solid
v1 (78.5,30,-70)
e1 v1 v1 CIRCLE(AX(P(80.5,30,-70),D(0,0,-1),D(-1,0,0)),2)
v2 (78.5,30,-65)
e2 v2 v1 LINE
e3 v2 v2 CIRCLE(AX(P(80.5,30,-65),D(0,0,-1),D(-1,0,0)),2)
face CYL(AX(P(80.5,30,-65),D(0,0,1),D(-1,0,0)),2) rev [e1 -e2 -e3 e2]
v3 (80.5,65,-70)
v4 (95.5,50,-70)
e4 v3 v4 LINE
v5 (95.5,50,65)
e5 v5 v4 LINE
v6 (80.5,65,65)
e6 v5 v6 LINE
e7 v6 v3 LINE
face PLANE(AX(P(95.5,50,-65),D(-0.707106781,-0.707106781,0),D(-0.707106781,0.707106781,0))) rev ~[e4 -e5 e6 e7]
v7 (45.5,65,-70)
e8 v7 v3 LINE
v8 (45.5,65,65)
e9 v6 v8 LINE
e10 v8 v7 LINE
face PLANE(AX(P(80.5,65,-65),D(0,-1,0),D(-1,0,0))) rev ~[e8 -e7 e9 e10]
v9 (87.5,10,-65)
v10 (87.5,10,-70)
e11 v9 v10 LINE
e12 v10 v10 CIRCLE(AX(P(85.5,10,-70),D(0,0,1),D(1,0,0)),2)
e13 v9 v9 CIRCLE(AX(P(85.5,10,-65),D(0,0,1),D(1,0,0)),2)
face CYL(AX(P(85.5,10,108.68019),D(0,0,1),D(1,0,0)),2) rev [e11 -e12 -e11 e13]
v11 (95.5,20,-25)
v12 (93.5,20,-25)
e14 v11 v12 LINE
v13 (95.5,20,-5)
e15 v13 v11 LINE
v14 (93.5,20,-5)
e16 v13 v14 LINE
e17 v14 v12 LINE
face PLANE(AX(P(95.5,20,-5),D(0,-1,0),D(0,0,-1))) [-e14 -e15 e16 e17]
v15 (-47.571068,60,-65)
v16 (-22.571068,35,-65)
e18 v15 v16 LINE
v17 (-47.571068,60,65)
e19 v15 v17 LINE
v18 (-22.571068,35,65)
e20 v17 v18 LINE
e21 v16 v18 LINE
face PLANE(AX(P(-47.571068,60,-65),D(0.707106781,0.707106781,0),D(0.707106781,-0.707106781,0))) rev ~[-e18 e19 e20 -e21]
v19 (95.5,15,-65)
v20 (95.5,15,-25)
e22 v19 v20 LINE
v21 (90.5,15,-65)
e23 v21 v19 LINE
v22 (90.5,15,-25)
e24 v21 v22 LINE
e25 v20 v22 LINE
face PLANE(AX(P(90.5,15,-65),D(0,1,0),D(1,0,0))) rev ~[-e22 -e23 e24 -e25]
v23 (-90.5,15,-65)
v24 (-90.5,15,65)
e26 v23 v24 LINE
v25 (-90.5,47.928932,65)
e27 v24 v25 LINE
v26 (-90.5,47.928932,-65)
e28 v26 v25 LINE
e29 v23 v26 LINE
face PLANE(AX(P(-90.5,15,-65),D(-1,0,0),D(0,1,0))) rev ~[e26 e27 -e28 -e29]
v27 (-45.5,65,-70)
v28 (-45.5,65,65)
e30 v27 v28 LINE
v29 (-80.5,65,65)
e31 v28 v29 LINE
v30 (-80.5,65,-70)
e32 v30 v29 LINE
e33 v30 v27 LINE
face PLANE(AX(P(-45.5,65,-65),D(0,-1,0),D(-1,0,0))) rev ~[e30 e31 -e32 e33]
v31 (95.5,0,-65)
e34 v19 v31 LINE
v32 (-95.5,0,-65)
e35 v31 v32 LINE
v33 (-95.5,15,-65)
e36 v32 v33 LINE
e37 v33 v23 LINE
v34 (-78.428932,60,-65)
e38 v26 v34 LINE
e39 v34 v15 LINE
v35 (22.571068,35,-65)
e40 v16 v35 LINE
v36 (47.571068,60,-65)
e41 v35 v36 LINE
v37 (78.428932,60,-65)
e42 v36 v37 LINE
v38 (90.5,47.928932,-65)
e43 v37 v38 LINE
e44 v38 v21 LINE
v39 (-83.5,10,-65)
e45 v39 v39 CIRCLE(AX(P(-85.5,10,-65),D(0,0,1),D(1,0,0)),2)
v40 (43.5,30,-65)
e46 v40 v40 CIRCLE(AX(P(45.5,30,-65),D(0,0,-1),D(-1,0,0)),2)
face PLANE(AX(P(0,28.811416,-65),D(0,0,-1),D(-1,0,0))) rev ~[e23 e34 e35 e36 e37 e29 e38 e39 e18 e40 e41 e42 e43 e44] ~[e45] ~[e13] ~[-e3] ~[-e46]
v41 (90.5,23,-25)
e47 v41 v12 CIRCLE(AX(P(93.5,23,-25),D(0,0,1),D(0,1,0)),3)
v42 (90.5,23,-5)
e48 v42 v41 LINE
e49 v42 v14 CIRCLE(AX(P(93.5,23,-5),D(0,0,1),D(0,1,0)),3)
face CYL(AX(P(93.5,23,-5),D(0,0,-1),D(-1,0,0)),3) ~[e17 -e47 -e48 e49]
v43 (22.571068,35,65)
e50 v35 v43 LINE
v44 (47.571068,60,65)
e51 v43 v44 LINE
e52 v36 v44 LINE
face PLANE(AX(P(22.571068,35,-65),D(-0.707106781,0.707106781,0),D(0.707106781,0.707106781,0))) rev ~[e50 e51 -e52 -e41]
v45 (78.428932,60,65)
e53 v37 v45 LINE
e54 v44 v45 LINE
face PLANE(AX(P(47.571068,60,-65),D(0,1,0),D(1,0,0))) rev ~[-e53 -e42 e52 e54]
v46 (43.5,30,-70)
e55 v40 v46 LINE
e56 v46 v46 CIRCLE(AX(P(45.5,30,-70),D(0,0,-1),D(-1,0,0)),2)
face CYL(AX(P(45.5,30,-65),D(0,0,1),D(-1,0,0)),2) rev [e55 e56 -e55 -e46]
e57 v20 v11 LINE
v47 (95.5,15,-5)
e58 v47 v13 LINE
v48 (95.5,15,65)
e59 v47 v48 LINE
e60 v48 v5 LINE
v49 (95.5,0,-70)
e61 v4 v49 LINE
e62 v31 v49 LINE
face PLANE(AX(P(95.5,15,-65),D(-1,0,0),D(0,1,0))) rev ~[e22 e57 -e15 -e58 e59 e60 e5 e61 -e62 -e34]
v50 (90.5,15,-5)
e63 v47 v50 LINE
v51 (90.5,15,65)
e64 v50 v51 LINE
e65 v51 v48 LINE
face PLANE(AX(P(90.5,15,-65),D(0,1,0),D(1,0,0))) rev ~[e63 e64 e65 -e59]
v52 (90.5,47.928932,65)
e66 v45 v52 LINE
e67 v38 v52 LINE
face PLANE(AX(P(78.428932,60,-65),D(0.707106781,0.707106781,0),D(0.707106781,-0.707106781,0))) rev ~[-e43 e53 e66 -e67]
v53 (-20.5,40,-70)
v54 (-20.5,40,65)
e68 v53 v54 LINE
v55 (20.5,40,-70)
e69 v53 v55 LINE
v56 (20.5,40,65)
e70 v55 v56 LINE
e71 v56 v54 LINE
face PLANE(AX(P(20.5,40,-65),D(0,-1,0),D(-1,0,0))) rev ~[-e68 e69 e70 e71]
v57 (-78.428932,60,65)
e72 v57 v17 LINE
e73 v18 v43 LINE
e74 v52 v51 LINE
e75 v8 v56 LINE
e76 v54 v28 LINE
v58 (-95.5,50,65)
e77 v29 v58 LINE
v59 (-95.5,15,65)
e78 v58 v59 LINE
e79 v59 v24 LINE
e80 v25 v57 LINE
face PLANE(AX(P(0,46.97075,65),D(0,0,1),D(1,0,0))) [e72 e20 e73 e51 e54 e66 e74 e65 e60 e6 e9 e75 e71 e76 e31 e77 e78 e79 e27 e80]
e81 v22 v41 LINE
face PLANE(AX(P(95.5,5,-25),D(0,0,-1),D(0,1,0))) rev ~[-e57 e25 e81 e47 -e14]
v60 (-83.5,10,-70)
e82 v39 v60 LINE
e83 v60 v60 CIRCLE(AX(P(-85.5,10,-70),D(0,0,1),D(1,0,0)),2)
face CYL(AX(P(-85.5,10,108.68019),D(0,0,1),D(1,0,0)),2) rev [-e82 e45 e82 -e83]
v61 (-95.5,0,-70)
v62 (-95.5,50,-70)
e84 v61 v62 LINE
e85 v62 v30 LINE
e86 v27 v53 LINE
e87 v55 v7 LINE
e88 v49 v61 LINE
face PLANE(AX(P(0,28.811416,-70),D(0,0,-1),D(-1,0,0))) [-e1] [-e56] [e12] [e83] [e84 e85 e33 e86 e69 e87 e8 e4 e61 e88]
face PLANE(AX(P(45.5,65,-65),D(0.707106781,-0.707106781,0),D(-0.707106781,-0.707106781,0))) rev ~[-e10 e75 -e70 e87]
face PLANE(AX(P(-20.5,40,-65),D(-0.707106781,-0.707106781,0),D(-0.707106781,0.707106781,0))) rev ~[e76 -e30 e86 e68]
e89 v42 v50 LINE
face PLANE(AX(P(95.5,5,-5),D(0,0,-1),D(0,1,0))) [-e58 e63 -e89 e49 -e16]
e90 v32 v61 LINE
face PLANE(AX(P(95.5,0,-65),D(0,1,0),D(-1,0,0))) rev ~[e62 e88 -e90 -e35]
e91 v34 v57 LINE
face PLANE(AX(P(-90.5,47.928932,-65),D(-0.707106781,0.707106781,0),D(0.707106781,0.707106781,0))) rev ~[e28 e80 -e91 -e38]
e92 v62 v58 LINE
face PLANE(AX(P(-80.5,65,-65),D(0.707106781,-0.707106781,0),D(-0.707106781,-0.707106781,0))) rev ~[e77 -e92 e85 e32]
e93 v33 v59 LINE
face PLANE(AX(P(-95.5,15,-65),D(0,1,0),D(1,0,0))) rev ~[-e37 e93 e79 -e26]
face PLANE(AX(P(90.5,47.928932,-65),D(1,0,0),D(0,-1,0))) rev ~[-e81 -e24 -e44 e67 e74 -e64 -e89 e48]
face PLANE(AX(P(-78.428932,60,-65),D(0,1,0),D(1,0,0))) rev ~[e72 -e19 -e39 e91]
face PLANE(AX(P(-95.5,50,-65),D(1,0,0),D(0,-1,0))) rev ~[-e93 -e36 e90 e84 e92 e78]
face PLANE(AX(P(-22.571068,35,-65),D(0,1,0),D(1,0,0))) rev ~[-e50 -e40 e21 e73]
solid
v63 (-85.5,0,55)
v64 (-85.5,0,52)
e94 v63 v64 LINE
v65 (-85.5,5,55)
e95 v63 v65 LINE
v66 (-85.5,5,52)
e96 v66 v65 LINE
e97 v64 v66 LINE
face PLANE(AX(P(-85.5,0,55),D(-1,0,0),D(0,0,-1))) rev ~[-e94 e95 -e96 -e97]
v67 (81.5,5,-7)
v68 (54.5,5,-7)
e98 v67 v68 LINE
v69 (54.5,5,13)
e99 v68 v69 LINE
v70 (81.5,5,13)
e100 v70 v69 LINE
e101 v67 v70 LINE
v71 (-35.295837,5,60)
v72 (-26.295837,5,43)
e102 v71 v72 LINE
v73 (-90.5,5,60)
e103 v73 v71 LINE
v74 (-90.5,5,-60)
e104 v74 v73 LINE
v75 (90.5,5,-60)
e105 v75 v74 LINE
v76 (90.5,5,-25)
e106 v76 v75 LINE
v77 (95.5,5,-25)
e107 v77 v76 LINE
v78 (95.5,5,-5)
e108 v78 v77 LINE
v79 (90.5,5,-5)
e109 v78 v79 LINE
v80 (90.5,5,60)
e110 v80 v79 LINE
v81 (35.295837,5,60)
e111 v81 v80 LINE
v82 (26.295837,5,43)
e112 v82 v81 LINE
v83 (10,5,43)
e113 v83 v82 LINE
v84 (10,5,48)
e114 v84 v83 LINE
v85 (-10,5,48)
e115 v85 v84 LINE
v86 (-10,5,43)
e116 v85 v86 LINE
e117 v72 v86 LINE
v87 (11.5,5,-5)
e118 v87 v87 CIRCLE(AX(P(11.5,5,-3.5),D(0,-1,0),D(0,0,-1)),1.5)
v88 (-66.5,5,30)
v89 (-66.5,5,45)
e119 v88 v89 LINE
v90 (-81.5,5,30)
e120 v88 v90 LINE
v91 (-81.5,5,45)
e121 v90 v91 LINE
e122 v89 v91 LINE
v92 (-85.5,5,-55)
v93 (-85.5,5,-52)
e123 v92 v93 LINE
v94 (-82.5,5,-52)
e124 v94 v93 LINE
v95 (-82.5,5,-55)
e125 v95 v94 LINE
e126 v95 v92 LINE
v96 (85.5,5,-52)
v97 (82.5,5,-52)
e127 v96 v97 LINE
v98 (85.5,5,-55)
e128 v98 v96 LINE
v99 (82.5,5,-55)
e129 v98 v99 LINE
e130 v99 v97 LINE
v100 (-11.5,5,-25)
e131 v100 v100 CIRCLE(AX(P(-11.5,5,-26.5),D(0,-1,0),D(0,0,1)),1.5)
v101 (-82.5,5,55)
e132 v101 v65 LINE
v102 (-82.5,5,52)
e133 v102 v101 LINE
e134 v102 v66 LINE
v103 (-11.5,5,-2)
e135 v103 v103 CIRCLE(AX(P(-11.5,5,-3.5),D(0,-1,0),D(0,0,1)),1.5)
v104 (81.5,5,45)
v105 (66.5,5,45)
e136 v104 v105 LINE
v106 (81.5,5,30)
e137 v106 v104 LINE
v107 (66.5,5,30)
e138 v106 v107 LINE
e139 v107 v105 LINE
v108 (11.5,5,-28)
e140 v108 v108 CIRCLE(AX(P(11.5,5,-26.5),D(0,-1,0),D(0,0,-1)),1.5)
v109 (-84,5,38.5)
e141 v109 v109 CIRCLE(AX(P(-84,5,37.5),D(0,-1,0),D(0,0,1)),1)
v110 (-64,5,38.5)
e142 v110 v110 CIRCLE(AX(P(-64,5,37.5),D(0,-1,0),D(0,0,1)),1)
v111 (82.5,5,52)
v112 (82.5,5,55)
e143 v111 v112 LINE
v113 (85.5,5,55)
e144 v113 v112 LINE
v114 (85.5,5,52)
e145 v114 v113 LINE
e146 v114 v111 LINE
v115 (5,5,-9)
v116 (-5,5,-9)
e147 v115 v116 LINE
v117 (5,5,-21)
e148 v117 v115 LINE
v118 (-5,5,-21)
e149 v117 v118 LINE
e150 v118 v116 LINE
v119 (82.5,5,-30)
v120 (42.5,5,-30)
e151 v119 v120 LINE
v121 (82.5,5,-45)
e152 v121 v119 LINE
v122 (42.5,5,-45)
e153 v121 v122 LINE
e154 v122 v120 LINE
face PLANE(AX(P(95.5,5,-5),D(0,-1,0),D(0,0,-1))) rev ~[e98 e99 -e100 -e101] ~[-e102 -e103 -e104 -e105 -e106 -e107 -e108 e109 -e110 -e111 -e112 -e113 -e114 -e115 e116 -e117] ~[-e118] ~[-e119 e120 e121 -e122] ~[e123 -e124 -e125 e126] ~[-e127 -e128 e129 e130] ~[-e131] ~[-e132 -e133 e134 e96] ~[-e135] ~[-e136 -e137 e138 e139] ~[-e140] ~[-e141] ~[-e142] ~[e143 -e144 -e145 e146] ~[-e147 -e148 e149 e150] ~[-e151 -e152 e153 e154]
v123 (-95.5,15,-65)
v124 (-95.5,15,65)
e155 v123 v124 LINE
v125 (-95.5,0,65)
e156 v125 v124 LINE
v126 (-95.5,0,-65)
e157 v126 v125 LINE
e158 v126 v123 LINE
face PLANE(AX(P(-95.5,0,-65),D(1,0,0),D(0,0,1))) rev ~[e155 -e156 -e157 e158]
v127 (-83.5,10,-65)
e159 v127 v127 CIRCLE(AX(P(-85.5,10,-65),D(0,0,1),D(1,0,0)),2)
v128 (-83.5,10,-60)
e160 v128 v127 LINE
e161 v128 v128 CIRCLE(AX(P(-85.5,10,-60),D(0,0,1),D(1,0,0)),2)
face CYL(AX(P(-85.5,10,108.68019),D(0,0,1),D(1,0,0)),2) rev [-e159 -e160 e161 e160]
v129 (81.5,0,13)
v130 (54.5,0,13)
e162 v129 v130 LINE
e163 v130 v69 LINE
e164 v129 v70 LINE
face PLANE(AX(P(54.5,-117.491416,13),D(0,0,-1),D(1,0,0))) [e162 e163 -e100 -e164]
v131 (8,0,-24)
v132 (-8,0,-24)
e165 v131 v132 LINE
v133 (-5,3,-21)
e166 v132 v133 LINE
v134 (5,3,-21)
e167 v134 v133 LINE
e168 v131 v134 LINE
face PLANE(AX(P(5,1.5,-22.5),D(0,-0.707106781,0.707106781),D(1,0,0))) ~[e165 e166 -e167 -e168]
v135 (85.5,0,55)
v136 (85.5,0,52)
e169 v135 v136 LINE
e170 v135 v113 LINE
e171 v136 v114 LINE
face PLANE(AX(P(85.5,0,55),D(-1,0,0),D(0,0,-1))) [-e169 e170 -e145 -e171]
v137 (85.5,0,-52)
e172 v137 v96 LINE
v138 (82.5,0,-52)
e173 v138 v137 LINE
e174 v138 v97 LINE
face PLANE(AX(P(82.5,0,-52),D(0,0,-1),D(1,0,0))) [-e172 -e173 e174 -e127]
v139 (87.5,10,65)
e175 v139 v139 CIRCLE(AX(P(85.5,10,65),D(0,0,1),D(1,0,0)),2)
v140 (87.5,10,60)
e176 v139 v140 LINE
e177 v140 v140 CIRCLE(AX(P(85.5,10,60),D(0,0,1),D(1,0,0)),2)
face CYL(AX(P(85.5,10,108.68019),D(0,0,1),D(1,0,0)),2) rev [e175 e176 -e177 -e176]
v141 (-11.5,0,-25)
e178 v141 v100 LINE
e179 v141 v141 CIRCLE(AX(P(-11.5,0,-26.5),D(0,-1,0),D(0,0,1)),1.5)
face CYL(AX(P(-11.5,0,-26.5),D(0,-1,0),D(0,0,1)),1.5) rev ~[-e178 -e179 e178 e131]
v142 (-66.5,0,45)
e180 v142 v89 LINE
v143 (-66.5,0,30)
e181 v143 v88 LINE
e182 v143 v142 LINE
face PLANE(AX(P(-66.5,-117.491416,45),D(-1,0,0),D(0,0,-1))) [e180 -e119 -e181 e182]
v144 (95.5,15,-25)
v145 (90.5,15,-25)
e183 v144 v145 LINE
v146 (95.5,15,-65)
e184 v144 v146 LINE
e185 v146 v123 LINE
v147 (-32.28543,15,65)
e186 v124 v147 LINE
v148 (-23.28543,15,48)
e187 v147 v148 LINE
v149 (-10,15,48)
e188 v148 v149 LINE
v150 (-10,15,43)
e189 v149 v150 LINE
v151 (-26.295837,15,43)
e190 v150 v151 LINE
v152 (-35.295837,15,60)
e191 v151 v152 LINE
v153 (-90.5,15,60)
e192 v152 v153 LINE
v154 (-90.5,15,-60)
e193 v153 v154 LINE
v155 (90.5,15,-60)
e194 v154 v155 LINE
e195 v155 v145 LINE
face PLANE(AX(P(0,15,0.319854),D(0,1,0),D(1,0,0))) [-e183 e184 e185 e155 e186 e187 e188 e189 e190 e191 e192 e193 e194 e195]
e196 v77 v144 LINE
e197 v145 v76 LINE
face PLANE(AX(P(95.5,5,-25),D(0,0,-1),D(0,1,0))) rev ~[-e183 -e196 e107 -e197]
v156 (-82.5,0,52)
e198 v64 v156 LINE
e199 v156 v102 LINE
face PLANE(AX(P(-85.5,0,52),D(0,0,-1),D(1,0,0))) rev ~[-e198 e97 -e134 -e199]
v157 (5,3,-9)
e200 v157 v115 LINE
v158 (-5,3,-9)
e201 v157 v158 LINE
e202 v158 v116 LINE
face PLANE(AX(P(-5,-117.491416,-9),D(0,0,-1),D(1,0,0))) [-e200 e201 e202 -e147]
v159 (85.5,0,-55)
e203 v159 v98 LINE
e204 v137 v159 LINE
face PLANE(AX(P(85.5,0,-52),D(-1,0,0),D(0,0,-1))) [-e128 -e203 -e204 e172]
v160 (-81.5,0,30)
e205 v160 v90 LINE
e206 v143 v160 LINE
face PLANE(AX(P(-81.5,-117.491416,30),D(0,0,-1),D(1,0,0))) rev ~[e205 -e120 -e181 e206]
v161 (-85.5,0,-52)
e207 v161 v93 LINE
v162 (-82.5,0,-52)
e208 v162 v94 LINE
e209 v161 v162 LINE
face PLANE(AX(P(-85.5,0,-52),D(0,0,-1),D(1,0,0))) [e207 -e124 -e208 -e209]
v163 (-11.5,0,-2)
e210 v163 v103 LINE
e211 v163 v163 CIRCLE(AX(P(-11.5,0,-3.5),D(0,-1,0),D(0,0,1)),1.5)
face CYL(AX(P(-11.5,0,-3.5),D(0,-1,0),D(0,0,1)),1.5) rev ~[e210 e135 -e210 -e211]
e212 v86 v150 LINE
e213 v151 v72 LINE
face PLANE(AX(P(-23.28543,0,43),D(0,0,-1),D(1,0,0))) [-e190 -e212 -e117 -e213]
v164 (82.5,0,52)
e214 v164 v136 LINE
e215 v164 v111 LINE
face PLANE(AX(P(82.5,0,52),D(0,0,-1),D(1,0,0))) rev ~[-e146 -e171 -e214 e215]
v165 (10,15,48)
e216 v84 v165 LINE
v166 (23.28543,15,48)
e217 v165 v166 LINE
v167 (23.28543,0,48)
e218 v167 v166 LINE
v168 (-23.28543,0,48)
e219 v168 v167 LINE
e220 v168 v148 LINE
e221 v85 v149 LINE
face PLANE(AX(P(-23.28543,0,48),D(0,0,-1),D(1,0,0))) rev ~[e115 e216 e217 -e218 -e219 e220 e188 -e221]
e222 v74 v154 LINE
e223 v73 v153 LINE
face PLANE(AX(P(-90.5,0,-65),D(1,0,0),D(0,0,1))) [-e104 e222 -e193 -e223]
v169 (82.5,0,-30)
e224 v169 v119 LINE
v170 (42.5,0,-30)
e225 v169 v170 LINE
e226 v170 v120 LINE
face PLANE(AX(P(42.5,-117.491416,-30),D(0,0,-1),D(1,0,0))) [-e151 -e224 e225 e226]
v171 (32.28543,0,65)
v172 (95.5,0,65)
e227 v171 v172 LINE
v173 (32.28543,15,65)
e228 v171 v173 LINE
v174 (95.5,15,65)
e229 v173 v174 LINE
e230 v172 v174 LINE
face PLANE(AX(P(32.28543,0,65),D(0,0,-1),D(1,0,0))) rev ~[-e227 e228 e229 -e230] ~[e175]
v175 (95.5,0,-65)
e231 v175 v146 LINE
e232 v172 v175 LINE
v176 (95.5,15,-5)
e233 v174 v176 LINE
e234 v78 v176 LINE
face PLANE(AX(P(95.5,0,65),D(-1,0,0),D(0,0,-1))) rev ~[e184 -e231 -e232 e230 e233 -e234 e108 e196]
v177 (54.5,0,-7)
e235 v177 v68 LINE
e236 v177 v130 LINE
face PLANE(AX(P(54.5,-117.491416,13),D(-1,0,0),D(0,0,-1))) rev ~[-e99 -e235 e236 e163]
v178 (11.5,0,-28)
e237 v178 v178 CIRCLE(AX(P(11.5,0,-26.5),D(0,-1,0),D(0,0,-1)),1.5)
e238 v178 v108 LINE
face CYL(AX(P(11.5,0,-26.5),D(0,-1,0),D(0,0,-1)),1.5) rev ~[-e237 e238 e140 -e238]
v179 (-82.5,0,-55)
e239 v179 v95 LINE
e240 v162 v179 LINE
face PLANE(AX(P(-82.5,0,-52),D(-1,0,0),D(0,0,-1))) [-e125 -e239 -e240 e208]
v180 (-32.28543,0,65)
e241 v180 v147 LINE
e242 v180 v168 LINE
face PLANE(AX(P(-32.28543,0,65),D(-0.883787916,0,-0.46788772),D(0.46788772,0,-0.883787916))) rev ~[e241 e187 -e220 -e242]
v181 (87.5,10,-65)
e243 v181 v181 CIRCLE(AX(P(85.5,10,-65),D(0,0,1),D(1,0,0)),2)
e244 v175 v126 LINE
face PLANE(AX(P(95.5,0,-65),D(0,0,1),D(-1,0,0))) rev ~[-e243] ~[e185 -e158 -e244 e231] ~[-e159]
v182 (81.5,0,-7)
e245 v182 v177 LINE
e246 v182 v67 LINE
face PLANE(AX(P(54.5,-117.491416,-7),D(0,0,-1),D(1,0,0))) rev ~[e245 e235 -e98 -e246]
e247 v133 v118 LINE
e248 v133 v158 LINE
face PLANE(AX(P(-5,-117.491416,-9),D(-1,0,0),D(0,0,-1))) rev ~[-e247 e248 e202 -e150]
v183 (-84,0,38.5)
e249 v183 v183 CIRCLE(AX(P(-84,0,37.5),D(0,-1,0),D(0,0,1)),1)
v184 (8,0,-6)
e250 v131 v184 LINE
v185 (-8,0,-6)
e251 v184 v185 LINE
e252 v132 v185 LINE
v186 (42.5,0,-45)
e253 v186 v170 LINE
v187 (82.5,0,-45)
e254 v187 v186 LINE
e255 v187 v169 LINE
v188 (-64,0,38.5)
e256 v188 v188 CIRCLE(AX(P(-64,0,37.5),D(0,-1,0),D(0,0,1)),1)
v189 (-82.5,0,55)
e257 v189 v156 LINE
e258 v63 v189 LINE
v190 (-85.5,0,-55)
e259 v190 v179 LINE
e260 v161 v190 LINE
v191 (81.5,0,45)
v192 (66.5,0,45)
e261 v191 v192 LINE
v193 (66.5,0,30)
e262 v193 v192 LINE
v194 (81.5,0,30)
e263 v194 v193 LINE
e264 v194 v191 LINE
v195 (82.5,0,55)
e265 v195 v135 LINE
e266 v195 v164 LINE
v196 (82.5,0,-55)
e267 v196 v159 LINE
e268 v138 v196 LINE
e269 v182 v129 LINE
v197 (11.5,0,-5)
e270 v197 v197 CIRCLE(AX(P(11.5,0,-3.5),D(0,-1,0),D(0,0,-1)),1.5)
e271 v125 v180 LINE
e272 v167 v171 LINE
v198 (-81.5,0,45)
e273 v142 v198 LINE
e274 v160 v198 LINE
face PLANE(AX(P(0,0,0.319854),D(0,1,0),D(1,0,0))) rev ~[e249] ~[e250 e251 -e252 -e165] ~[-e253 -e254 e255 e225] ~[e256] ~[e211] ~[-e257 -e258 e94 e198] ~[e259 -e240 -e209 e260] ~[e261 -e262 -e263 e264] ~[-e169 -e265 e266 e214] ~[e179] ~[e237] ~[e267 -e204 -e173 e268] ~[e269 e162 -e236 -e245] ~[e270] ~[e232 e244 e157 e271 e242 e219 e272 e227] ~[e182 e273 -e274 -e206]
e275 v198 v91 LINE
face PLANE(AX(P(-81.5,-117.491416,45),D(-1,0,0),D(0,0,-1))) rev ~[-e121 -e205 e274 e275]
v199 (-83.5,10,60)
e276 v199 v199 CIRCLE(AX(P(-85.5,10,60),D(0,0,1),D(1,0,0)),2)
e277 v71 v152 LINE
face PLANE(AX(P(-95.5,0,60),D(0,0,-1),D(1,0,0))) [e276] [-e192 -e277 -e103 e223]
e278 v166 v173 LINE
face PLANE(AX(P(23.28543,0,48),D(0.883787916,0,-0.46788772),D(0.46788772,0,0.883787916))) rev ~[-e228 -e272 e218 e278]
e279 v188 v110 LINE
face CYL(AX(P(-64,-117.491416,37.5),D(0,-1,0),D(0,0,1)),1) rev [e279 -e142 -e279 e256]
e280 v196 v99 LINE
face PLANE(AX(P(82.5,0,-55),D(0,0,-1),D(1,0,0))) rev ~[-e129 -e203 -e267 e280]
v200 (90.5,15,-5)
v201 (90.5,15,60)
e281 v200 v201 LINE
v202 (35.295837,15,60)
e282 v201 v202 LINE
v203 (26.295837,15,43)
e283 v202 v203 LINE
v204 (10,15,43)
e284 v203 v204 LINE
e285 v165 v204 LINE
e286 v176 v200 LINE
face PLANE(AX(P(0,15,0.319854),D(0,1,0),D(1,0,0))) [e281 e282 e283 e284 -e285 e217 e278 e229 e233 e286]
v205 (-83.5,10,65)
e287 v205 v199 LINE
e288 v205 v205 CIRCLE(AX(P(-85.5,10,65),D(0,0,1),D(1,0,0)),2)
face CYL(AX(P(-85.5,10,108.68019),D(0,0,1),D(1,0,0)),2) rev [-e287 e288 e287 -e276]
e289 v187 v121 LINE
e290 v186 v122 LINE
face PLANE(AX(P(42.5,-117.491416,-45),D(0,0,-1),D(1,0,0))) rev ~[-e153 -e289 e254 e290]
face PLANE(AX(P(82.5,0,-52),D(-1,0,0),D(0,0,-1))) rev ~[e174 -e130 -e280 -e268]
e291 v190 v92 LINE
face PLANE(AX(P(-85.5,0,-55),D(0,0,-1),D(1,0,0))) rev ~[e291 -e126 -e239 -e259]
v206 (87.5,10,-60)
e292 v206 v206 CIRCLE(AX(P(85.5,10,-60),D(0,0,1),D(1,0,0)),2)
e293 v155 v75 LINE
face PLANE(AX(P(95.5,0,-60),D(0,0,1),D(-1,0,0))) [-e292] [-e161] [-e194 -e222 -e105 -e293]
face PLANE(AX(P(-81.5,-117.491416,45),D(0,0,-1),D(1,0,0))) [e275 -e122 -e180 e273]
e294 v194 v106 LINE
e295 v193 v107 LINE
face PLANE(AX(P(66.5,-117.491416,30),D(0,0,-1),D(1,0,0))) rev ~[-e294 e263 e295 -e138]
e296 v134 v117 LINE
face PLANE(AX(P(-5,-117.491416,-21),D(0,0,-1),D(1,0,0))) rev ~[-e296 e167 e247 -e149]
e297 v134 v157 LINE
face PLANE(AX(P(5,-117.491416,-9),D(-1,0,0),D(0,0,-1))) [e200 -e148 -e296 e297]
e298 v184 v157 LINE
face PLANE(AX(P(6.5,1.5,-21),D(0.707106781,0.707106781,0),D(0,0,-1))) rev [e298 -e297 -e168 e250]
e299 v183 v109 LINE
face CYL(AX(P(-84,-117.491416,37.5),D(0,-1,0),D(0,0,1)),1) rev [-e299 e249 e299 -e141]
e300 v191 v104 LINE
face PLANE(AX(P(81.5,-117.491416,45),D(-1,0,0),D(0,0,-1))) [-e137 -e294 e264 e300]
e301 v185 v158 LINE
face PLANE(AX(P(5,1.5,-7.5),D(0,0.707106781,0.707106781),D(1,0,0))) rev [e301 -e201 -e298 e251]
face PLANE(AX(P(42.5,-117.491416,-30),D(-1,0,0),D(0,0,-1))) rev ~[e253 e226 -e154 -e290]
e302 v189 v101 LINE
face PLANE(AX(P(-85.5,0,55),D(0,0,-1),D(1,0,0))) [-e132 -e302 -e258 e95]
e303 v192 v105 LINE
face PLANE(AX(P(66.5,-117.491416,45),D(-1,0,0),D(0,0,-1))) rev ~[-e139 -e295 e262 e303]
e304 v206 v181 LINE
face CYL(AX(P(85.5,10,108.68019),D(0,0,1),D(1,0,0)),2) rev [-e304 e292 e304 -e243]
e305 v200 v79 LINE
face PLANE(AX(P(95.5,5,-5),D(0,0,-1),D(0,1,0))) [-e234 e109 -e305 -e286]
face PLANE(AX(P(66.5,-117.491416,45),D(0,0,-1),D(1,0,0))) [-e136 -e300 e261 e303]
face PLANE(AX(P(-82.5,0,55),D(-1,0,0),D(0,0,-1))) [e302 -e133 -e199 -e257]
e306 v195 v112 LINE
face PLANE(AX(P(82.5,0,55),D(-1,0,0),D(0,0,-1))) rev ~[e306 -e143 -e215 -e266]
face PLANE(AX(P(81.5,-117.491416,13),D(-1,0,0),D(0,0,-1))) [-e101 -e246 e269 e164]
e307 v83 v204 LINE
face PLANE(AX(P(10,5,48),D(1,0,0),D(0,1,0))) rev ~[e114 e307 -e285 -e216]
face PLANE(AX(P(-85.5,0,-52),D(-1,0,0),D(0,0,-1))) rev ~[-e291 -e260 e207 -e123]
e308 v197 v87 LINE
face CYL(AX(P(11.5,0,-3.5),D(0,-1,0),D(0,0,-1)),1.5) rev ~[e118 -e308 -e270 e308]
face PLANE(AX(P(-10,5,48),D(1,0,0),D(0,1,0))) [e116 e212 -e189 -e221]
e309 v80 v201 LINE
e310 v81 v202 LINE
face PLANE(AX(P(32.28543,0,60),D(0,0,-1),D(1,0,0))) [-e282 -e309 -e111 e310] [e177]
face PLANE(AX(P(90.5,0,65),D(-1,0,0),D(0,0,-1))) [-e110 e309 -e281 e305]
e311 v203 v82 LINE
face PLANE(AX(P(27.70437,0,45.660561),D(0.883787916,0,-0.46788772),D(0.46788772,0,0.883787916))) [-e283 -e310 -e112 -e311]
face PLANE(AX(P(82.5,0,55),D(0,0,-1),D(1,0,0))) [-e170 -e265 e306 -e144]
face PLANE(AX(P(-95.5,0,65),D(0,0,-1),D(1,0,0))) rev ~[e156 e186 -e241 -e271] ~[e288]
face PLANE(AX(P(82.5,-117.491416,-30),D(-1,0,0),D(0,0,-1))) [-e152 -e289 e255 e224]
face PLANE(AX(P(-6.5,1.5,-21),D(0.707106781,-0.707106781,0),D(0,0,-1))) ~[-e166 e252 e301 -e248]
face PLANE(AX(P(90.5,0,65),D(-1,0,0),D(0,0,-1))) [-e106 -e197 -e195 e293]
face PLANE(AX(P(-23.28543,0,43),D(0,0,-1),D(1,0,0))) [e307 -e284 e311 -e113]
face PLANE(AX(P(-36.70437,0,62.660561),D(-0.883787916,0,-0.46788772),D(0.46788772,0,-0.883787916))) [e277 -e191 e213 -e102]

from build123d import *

# Parameters (mm, degrees)
BOSS_EXTRUDE2_DEPTH     = 15
SHELL1_T                = -5
CUT_EXTRUDE2_DEPTH      = 117.491415993
CUT_EXTRUDE2_DEPTH_BACK = 117.491415993
SKETCH4_R               = 1
SKETCH4_W               = 10
SKETCH4_H               = 12
SKETCH4_W_2             = 27
SKETCH4_H_2             = 20
SKETCH4_W_3             = 15
SKETCH4_H_3             = 15
SKETCH4_W_4             = 40
SKETCH5_W               = 3
SKETCH5_H               = 3
CUT_EXTRUDE4_DEPTH      = 117.491415993
SKETCH6_R               = 2
BOSS_EXTRUDE3_DEPTH     = 5
CUT_EXTRUDE5_DEPTH      = 178.68019023
CUT_EXTRUDE5_DEPTH_BACK = 178.68019023
SKETCH7_R               = 2
BOSS_EXTRUDE4_DEPTH     = 130
CHAMFER2_SIZE           = 3
SKETCH10_R              = 1.5
CUT_EXTRUDE6_DEPTH      = 5
SKETCH11_W              = 20
SKETCH11_H              = 10
CUT_EXTRUDE7_DEPTH      = 5
SKETCH12_W              = 20
SKETCH12_H              = 15
CUT_EXTRUDE8_DEPTH      = 6
FILLET1_R               = 3


with BuildPart() as part:
    # Sketch3 → Boss-Extrude2 (new body)
    with BuildSketch(Plane(origin=(0, 0, 0), x_dir=(1, 0, 0), z_dir=(0, 1, 0))):
        Polygon((95.5, 65), (-95.5, 65), (-95.5, -65), (-32.285430092, -65), (-23.285430092, -48), (23.285430092, -48), (32.285430092, -65), (95.5, -65), align=None)
    extrude(amount=BOSS_EXTRUDE2_DEPTH)

    # Shell1
    shell1_openings = [part.faces().sort_by_distance(p)[0] for p in [
        (0, 15, -2.252821678),
    ]]
    offset(amount=SHELL1_T, openings=shell1_openings, kind=Kind.INTERSECTION)

    # Sketch4 → Cut-Extrude2 (cut, two sides: drawn at the far end of the back side and taken through both)
    with BuildSketch(Plane(origin=(0, 0, 0), x_dir=(1, 0, 0), z_dir=(0, 1, 0)).offset(-CUT_EXTRUDE2_DEPTH_BACK)):
        with Locations(Location((-84, -37.5, 0), (0, 0, 270))):
            Circle(SKETCH4_R)
        with Locations(Location((-64, -37.5, 0), (0, 0, 270))):
            Circle(SKETCH4_R)
        with Locations((0, 15)):
            Rectangle(SKETCH4_W, SKETCH4_H)
        with Locations((68, -3)):
            Rectangle(SKETCH4_W_2, SKETCH4_H_2)
        with Locations((74, -37.5)):
            Rectangle(SKETCH4_W_3, SKETCH4_H_3)
        with Locations((-74, -37.5)):
            Rectangle(SKETCH4_W_3, SKETCH4_H_3)
        with Locations((62.5, 37.5)):
            Rectangle(SKETCH4_W_4, SKETCH4_H_3)
    extrude(amount=CUT_EXTRUDE2_DEPTH + CUT_EXTRUDE2_DEPTH_BACK, mode=Mode.SUBTRACT)

    # Sketch5 → Cut-Extrude4 (cut, through all)
    with BuildSketch(Plane(origin=(0, 0, 0), x_dir=(1, 0, 0), z_dir=(0, 1, 0))):
        with Locations((-84, 53.5)):
            Rectangle(SKETCH5_W, SKETCH5_H)
        with Locations((84, 53.5)):
            Rectangle(SKETCH5_W, SKETCH5_H)
        with Locations((84, -53.5)):
            Rectangle(SKETCH5_W, SKETCH5_H)
        with Locations((-84, -53.5)):
            Rectangle(SKETCH5_W, SKETCH5_H)
    extrude(amount=CUT_EXTRUDE4_DEPTH, mode=Mode.SUBTRACT)


with BuildPart() as body_2:
    # Sketch6 → Boss-Extrude3 (new body)
    with BuildSketch(Plane(origin=(0, 0, -65), x_dir=(-1, 0, 0), z_dir=(0, 0, -1))):
        Polygon((-95.5, 50), (-95.5, 0), (95.5, 0), (95.5, 50), (80.5, 65), (45.5, 65), (20.5, 40), (-20.5, 40), (-45.5, 65), (-80.5, 65), align=None)
        with Locations((-80.5, 30)):
            Circle(SKETCH6_R, mode=Mode.SUBTRACT)
        with Locations((-45.5, 30)):
            Circle(SKETCH6_R, mode=Mode.SUBTRACT)
    extrude(amount=BOSS_EXTRUDE3_DEPTH)


with BuildPart() as cut_extrude5_tool:
    # Sketch7 → Cut-Extrude5 (new, two sides: drawn at the far end of the back side and taken through both)
    with BuildSketch(Plane(origin=(0, 0, -70), x_dir=(-1, 0, 0), z_dir=(0, 0, -1)).offset(-CUT_EXTRUDE5_DEPTH_BACK)):
        with Locations(Location((-85.5, 10, 0), (0, 0, 180))):
            Circle(SKETCH7_R)
        with Locations(Location((85.5, 10, 0), (0, 0, 180))):
            Circle(SKETCH7_R)
    extrude(amount=CUT_EXTRUDE5_DEPTH + CUT_EXTRUDE5_DEPTH_BACK)


with BuildPart() as part_1:
    add(part.part)

    # Cut-Extrude5: cut by cut_extrude5_tool
    add(cut_extrude5_tool.part, mode=Mode.SUBTRACT)

    # Chamfer2
    chamfer2_edges = [part_1.edges().sort_by_distance(p)[0] for p in [
        (-5, 0, -15),
        (0, 0, -21),
        (5, 0, -15),
        (0, 0, -9),
    ]]
    chamfer(chamfer2_edges, length=CHAMFER2_SIZE)

    # Sketch10 → Cut-Extrude6 (cut)
    with BuildSketch(Plane.XZ):
        with Locations(Location((11.5, -3.5, 0), (0, 0, 270))):
            Circle(SKETCH10_R)
        with Locations(Location((11.5, -26.5, 0), (0, 0, 270))):
            Circle(SKETCH10_R)
        with Locations(Location((-11.5, -26.5, 0), (0, 0, 90))):
            Circle(SKETCH10_R)
        with Locations(Location((-11.5, -3.5, 0), (0, 0, 90))):
            Circle(SKETCH10_R)
    extrude(amount=-CUT_EXTRUDE6_DEPTH, mode=Mode.SUBTRACT)

    # Sketch11 → Cut-Extrude7 (cut)
    with BuildSketch(Plane.XY.offset(48)):
        with Locations((0, 10)):
            Rectangle(SKETCH11_W, SKETCH11_H)
    extrude(amount=-CUT_EXTRUDE7_DEPTH, mode=Mode.SUBTRACT)


with BuildPart() as body_2_1:
    add(body_2.part)

    # Cut-Extrude5: cut by cut_extrude5_tool
    add(cut_extrude5_tool.part, mode=Mode.SUBTRACT)

    # Sketch8 → Boss-Extrude4 (add)
    with BuildSketch(Plane.XY.offset(-65)):
        Polygon((45.5, 65), (20.5, 40), (-20.5, 40), (-45.5, 65), (-80.5, 65), (-95.5, 50), (-95.5, 15), (-90.5, 15), (-90.5, 47.928932188), (-78.428932188, 60), (-47.571067812, 60), (-22.571067812, 35), (22.571067812, 35), (47.571067812, 60), (78.428932188, 60), (90.5, 47.928932188), (90.5, 15), (95.5, 15), (95.5, 50), (80.5, 65), align=None)
    extrude(amount=BOSS_EXTRUDE4_DEPTH)


with BuildPart() as cut_extrude8_tool:
    # Sketch12 → Cut-Extrude8 (new body)
    with BuildSketch(Plane(origin=(95.5, 0, 0), x_dir=(0, 0, -1), z_dir=(1, 0, 0))):
        with Locations((15, 12.5)):
            Rectangle(SKETCH12_W, SKETCH12_H)
    extrude(amount=-CUT_EXTRUDE8_DEPTH)


with BuildPart() as part_2:
    add(part_1.part)

    # Cut-Extrude8: cut by cut_extrude8_tool
    add(cut_extrude8_tool.part, mode=Mode.SUBTRACT)


with BuildPart() as body_2_2:
    add(body_2_1.part)

    # Cut-Extrude8: cut by cut_extrude8_tool
    add(cut_extrude8_tool.part, mode=Mode.SUBTRACT)

    # Fillet1
    fillet1_edges = [body_2_2.edges().sort_by_distance(p)[0] for p in [
        (90.5, 20, -15),
    ]]
    fillet(fillet1_edges, radius=FILLET1_R)


solid = Compound([part_2.part, body_2_2.part])
